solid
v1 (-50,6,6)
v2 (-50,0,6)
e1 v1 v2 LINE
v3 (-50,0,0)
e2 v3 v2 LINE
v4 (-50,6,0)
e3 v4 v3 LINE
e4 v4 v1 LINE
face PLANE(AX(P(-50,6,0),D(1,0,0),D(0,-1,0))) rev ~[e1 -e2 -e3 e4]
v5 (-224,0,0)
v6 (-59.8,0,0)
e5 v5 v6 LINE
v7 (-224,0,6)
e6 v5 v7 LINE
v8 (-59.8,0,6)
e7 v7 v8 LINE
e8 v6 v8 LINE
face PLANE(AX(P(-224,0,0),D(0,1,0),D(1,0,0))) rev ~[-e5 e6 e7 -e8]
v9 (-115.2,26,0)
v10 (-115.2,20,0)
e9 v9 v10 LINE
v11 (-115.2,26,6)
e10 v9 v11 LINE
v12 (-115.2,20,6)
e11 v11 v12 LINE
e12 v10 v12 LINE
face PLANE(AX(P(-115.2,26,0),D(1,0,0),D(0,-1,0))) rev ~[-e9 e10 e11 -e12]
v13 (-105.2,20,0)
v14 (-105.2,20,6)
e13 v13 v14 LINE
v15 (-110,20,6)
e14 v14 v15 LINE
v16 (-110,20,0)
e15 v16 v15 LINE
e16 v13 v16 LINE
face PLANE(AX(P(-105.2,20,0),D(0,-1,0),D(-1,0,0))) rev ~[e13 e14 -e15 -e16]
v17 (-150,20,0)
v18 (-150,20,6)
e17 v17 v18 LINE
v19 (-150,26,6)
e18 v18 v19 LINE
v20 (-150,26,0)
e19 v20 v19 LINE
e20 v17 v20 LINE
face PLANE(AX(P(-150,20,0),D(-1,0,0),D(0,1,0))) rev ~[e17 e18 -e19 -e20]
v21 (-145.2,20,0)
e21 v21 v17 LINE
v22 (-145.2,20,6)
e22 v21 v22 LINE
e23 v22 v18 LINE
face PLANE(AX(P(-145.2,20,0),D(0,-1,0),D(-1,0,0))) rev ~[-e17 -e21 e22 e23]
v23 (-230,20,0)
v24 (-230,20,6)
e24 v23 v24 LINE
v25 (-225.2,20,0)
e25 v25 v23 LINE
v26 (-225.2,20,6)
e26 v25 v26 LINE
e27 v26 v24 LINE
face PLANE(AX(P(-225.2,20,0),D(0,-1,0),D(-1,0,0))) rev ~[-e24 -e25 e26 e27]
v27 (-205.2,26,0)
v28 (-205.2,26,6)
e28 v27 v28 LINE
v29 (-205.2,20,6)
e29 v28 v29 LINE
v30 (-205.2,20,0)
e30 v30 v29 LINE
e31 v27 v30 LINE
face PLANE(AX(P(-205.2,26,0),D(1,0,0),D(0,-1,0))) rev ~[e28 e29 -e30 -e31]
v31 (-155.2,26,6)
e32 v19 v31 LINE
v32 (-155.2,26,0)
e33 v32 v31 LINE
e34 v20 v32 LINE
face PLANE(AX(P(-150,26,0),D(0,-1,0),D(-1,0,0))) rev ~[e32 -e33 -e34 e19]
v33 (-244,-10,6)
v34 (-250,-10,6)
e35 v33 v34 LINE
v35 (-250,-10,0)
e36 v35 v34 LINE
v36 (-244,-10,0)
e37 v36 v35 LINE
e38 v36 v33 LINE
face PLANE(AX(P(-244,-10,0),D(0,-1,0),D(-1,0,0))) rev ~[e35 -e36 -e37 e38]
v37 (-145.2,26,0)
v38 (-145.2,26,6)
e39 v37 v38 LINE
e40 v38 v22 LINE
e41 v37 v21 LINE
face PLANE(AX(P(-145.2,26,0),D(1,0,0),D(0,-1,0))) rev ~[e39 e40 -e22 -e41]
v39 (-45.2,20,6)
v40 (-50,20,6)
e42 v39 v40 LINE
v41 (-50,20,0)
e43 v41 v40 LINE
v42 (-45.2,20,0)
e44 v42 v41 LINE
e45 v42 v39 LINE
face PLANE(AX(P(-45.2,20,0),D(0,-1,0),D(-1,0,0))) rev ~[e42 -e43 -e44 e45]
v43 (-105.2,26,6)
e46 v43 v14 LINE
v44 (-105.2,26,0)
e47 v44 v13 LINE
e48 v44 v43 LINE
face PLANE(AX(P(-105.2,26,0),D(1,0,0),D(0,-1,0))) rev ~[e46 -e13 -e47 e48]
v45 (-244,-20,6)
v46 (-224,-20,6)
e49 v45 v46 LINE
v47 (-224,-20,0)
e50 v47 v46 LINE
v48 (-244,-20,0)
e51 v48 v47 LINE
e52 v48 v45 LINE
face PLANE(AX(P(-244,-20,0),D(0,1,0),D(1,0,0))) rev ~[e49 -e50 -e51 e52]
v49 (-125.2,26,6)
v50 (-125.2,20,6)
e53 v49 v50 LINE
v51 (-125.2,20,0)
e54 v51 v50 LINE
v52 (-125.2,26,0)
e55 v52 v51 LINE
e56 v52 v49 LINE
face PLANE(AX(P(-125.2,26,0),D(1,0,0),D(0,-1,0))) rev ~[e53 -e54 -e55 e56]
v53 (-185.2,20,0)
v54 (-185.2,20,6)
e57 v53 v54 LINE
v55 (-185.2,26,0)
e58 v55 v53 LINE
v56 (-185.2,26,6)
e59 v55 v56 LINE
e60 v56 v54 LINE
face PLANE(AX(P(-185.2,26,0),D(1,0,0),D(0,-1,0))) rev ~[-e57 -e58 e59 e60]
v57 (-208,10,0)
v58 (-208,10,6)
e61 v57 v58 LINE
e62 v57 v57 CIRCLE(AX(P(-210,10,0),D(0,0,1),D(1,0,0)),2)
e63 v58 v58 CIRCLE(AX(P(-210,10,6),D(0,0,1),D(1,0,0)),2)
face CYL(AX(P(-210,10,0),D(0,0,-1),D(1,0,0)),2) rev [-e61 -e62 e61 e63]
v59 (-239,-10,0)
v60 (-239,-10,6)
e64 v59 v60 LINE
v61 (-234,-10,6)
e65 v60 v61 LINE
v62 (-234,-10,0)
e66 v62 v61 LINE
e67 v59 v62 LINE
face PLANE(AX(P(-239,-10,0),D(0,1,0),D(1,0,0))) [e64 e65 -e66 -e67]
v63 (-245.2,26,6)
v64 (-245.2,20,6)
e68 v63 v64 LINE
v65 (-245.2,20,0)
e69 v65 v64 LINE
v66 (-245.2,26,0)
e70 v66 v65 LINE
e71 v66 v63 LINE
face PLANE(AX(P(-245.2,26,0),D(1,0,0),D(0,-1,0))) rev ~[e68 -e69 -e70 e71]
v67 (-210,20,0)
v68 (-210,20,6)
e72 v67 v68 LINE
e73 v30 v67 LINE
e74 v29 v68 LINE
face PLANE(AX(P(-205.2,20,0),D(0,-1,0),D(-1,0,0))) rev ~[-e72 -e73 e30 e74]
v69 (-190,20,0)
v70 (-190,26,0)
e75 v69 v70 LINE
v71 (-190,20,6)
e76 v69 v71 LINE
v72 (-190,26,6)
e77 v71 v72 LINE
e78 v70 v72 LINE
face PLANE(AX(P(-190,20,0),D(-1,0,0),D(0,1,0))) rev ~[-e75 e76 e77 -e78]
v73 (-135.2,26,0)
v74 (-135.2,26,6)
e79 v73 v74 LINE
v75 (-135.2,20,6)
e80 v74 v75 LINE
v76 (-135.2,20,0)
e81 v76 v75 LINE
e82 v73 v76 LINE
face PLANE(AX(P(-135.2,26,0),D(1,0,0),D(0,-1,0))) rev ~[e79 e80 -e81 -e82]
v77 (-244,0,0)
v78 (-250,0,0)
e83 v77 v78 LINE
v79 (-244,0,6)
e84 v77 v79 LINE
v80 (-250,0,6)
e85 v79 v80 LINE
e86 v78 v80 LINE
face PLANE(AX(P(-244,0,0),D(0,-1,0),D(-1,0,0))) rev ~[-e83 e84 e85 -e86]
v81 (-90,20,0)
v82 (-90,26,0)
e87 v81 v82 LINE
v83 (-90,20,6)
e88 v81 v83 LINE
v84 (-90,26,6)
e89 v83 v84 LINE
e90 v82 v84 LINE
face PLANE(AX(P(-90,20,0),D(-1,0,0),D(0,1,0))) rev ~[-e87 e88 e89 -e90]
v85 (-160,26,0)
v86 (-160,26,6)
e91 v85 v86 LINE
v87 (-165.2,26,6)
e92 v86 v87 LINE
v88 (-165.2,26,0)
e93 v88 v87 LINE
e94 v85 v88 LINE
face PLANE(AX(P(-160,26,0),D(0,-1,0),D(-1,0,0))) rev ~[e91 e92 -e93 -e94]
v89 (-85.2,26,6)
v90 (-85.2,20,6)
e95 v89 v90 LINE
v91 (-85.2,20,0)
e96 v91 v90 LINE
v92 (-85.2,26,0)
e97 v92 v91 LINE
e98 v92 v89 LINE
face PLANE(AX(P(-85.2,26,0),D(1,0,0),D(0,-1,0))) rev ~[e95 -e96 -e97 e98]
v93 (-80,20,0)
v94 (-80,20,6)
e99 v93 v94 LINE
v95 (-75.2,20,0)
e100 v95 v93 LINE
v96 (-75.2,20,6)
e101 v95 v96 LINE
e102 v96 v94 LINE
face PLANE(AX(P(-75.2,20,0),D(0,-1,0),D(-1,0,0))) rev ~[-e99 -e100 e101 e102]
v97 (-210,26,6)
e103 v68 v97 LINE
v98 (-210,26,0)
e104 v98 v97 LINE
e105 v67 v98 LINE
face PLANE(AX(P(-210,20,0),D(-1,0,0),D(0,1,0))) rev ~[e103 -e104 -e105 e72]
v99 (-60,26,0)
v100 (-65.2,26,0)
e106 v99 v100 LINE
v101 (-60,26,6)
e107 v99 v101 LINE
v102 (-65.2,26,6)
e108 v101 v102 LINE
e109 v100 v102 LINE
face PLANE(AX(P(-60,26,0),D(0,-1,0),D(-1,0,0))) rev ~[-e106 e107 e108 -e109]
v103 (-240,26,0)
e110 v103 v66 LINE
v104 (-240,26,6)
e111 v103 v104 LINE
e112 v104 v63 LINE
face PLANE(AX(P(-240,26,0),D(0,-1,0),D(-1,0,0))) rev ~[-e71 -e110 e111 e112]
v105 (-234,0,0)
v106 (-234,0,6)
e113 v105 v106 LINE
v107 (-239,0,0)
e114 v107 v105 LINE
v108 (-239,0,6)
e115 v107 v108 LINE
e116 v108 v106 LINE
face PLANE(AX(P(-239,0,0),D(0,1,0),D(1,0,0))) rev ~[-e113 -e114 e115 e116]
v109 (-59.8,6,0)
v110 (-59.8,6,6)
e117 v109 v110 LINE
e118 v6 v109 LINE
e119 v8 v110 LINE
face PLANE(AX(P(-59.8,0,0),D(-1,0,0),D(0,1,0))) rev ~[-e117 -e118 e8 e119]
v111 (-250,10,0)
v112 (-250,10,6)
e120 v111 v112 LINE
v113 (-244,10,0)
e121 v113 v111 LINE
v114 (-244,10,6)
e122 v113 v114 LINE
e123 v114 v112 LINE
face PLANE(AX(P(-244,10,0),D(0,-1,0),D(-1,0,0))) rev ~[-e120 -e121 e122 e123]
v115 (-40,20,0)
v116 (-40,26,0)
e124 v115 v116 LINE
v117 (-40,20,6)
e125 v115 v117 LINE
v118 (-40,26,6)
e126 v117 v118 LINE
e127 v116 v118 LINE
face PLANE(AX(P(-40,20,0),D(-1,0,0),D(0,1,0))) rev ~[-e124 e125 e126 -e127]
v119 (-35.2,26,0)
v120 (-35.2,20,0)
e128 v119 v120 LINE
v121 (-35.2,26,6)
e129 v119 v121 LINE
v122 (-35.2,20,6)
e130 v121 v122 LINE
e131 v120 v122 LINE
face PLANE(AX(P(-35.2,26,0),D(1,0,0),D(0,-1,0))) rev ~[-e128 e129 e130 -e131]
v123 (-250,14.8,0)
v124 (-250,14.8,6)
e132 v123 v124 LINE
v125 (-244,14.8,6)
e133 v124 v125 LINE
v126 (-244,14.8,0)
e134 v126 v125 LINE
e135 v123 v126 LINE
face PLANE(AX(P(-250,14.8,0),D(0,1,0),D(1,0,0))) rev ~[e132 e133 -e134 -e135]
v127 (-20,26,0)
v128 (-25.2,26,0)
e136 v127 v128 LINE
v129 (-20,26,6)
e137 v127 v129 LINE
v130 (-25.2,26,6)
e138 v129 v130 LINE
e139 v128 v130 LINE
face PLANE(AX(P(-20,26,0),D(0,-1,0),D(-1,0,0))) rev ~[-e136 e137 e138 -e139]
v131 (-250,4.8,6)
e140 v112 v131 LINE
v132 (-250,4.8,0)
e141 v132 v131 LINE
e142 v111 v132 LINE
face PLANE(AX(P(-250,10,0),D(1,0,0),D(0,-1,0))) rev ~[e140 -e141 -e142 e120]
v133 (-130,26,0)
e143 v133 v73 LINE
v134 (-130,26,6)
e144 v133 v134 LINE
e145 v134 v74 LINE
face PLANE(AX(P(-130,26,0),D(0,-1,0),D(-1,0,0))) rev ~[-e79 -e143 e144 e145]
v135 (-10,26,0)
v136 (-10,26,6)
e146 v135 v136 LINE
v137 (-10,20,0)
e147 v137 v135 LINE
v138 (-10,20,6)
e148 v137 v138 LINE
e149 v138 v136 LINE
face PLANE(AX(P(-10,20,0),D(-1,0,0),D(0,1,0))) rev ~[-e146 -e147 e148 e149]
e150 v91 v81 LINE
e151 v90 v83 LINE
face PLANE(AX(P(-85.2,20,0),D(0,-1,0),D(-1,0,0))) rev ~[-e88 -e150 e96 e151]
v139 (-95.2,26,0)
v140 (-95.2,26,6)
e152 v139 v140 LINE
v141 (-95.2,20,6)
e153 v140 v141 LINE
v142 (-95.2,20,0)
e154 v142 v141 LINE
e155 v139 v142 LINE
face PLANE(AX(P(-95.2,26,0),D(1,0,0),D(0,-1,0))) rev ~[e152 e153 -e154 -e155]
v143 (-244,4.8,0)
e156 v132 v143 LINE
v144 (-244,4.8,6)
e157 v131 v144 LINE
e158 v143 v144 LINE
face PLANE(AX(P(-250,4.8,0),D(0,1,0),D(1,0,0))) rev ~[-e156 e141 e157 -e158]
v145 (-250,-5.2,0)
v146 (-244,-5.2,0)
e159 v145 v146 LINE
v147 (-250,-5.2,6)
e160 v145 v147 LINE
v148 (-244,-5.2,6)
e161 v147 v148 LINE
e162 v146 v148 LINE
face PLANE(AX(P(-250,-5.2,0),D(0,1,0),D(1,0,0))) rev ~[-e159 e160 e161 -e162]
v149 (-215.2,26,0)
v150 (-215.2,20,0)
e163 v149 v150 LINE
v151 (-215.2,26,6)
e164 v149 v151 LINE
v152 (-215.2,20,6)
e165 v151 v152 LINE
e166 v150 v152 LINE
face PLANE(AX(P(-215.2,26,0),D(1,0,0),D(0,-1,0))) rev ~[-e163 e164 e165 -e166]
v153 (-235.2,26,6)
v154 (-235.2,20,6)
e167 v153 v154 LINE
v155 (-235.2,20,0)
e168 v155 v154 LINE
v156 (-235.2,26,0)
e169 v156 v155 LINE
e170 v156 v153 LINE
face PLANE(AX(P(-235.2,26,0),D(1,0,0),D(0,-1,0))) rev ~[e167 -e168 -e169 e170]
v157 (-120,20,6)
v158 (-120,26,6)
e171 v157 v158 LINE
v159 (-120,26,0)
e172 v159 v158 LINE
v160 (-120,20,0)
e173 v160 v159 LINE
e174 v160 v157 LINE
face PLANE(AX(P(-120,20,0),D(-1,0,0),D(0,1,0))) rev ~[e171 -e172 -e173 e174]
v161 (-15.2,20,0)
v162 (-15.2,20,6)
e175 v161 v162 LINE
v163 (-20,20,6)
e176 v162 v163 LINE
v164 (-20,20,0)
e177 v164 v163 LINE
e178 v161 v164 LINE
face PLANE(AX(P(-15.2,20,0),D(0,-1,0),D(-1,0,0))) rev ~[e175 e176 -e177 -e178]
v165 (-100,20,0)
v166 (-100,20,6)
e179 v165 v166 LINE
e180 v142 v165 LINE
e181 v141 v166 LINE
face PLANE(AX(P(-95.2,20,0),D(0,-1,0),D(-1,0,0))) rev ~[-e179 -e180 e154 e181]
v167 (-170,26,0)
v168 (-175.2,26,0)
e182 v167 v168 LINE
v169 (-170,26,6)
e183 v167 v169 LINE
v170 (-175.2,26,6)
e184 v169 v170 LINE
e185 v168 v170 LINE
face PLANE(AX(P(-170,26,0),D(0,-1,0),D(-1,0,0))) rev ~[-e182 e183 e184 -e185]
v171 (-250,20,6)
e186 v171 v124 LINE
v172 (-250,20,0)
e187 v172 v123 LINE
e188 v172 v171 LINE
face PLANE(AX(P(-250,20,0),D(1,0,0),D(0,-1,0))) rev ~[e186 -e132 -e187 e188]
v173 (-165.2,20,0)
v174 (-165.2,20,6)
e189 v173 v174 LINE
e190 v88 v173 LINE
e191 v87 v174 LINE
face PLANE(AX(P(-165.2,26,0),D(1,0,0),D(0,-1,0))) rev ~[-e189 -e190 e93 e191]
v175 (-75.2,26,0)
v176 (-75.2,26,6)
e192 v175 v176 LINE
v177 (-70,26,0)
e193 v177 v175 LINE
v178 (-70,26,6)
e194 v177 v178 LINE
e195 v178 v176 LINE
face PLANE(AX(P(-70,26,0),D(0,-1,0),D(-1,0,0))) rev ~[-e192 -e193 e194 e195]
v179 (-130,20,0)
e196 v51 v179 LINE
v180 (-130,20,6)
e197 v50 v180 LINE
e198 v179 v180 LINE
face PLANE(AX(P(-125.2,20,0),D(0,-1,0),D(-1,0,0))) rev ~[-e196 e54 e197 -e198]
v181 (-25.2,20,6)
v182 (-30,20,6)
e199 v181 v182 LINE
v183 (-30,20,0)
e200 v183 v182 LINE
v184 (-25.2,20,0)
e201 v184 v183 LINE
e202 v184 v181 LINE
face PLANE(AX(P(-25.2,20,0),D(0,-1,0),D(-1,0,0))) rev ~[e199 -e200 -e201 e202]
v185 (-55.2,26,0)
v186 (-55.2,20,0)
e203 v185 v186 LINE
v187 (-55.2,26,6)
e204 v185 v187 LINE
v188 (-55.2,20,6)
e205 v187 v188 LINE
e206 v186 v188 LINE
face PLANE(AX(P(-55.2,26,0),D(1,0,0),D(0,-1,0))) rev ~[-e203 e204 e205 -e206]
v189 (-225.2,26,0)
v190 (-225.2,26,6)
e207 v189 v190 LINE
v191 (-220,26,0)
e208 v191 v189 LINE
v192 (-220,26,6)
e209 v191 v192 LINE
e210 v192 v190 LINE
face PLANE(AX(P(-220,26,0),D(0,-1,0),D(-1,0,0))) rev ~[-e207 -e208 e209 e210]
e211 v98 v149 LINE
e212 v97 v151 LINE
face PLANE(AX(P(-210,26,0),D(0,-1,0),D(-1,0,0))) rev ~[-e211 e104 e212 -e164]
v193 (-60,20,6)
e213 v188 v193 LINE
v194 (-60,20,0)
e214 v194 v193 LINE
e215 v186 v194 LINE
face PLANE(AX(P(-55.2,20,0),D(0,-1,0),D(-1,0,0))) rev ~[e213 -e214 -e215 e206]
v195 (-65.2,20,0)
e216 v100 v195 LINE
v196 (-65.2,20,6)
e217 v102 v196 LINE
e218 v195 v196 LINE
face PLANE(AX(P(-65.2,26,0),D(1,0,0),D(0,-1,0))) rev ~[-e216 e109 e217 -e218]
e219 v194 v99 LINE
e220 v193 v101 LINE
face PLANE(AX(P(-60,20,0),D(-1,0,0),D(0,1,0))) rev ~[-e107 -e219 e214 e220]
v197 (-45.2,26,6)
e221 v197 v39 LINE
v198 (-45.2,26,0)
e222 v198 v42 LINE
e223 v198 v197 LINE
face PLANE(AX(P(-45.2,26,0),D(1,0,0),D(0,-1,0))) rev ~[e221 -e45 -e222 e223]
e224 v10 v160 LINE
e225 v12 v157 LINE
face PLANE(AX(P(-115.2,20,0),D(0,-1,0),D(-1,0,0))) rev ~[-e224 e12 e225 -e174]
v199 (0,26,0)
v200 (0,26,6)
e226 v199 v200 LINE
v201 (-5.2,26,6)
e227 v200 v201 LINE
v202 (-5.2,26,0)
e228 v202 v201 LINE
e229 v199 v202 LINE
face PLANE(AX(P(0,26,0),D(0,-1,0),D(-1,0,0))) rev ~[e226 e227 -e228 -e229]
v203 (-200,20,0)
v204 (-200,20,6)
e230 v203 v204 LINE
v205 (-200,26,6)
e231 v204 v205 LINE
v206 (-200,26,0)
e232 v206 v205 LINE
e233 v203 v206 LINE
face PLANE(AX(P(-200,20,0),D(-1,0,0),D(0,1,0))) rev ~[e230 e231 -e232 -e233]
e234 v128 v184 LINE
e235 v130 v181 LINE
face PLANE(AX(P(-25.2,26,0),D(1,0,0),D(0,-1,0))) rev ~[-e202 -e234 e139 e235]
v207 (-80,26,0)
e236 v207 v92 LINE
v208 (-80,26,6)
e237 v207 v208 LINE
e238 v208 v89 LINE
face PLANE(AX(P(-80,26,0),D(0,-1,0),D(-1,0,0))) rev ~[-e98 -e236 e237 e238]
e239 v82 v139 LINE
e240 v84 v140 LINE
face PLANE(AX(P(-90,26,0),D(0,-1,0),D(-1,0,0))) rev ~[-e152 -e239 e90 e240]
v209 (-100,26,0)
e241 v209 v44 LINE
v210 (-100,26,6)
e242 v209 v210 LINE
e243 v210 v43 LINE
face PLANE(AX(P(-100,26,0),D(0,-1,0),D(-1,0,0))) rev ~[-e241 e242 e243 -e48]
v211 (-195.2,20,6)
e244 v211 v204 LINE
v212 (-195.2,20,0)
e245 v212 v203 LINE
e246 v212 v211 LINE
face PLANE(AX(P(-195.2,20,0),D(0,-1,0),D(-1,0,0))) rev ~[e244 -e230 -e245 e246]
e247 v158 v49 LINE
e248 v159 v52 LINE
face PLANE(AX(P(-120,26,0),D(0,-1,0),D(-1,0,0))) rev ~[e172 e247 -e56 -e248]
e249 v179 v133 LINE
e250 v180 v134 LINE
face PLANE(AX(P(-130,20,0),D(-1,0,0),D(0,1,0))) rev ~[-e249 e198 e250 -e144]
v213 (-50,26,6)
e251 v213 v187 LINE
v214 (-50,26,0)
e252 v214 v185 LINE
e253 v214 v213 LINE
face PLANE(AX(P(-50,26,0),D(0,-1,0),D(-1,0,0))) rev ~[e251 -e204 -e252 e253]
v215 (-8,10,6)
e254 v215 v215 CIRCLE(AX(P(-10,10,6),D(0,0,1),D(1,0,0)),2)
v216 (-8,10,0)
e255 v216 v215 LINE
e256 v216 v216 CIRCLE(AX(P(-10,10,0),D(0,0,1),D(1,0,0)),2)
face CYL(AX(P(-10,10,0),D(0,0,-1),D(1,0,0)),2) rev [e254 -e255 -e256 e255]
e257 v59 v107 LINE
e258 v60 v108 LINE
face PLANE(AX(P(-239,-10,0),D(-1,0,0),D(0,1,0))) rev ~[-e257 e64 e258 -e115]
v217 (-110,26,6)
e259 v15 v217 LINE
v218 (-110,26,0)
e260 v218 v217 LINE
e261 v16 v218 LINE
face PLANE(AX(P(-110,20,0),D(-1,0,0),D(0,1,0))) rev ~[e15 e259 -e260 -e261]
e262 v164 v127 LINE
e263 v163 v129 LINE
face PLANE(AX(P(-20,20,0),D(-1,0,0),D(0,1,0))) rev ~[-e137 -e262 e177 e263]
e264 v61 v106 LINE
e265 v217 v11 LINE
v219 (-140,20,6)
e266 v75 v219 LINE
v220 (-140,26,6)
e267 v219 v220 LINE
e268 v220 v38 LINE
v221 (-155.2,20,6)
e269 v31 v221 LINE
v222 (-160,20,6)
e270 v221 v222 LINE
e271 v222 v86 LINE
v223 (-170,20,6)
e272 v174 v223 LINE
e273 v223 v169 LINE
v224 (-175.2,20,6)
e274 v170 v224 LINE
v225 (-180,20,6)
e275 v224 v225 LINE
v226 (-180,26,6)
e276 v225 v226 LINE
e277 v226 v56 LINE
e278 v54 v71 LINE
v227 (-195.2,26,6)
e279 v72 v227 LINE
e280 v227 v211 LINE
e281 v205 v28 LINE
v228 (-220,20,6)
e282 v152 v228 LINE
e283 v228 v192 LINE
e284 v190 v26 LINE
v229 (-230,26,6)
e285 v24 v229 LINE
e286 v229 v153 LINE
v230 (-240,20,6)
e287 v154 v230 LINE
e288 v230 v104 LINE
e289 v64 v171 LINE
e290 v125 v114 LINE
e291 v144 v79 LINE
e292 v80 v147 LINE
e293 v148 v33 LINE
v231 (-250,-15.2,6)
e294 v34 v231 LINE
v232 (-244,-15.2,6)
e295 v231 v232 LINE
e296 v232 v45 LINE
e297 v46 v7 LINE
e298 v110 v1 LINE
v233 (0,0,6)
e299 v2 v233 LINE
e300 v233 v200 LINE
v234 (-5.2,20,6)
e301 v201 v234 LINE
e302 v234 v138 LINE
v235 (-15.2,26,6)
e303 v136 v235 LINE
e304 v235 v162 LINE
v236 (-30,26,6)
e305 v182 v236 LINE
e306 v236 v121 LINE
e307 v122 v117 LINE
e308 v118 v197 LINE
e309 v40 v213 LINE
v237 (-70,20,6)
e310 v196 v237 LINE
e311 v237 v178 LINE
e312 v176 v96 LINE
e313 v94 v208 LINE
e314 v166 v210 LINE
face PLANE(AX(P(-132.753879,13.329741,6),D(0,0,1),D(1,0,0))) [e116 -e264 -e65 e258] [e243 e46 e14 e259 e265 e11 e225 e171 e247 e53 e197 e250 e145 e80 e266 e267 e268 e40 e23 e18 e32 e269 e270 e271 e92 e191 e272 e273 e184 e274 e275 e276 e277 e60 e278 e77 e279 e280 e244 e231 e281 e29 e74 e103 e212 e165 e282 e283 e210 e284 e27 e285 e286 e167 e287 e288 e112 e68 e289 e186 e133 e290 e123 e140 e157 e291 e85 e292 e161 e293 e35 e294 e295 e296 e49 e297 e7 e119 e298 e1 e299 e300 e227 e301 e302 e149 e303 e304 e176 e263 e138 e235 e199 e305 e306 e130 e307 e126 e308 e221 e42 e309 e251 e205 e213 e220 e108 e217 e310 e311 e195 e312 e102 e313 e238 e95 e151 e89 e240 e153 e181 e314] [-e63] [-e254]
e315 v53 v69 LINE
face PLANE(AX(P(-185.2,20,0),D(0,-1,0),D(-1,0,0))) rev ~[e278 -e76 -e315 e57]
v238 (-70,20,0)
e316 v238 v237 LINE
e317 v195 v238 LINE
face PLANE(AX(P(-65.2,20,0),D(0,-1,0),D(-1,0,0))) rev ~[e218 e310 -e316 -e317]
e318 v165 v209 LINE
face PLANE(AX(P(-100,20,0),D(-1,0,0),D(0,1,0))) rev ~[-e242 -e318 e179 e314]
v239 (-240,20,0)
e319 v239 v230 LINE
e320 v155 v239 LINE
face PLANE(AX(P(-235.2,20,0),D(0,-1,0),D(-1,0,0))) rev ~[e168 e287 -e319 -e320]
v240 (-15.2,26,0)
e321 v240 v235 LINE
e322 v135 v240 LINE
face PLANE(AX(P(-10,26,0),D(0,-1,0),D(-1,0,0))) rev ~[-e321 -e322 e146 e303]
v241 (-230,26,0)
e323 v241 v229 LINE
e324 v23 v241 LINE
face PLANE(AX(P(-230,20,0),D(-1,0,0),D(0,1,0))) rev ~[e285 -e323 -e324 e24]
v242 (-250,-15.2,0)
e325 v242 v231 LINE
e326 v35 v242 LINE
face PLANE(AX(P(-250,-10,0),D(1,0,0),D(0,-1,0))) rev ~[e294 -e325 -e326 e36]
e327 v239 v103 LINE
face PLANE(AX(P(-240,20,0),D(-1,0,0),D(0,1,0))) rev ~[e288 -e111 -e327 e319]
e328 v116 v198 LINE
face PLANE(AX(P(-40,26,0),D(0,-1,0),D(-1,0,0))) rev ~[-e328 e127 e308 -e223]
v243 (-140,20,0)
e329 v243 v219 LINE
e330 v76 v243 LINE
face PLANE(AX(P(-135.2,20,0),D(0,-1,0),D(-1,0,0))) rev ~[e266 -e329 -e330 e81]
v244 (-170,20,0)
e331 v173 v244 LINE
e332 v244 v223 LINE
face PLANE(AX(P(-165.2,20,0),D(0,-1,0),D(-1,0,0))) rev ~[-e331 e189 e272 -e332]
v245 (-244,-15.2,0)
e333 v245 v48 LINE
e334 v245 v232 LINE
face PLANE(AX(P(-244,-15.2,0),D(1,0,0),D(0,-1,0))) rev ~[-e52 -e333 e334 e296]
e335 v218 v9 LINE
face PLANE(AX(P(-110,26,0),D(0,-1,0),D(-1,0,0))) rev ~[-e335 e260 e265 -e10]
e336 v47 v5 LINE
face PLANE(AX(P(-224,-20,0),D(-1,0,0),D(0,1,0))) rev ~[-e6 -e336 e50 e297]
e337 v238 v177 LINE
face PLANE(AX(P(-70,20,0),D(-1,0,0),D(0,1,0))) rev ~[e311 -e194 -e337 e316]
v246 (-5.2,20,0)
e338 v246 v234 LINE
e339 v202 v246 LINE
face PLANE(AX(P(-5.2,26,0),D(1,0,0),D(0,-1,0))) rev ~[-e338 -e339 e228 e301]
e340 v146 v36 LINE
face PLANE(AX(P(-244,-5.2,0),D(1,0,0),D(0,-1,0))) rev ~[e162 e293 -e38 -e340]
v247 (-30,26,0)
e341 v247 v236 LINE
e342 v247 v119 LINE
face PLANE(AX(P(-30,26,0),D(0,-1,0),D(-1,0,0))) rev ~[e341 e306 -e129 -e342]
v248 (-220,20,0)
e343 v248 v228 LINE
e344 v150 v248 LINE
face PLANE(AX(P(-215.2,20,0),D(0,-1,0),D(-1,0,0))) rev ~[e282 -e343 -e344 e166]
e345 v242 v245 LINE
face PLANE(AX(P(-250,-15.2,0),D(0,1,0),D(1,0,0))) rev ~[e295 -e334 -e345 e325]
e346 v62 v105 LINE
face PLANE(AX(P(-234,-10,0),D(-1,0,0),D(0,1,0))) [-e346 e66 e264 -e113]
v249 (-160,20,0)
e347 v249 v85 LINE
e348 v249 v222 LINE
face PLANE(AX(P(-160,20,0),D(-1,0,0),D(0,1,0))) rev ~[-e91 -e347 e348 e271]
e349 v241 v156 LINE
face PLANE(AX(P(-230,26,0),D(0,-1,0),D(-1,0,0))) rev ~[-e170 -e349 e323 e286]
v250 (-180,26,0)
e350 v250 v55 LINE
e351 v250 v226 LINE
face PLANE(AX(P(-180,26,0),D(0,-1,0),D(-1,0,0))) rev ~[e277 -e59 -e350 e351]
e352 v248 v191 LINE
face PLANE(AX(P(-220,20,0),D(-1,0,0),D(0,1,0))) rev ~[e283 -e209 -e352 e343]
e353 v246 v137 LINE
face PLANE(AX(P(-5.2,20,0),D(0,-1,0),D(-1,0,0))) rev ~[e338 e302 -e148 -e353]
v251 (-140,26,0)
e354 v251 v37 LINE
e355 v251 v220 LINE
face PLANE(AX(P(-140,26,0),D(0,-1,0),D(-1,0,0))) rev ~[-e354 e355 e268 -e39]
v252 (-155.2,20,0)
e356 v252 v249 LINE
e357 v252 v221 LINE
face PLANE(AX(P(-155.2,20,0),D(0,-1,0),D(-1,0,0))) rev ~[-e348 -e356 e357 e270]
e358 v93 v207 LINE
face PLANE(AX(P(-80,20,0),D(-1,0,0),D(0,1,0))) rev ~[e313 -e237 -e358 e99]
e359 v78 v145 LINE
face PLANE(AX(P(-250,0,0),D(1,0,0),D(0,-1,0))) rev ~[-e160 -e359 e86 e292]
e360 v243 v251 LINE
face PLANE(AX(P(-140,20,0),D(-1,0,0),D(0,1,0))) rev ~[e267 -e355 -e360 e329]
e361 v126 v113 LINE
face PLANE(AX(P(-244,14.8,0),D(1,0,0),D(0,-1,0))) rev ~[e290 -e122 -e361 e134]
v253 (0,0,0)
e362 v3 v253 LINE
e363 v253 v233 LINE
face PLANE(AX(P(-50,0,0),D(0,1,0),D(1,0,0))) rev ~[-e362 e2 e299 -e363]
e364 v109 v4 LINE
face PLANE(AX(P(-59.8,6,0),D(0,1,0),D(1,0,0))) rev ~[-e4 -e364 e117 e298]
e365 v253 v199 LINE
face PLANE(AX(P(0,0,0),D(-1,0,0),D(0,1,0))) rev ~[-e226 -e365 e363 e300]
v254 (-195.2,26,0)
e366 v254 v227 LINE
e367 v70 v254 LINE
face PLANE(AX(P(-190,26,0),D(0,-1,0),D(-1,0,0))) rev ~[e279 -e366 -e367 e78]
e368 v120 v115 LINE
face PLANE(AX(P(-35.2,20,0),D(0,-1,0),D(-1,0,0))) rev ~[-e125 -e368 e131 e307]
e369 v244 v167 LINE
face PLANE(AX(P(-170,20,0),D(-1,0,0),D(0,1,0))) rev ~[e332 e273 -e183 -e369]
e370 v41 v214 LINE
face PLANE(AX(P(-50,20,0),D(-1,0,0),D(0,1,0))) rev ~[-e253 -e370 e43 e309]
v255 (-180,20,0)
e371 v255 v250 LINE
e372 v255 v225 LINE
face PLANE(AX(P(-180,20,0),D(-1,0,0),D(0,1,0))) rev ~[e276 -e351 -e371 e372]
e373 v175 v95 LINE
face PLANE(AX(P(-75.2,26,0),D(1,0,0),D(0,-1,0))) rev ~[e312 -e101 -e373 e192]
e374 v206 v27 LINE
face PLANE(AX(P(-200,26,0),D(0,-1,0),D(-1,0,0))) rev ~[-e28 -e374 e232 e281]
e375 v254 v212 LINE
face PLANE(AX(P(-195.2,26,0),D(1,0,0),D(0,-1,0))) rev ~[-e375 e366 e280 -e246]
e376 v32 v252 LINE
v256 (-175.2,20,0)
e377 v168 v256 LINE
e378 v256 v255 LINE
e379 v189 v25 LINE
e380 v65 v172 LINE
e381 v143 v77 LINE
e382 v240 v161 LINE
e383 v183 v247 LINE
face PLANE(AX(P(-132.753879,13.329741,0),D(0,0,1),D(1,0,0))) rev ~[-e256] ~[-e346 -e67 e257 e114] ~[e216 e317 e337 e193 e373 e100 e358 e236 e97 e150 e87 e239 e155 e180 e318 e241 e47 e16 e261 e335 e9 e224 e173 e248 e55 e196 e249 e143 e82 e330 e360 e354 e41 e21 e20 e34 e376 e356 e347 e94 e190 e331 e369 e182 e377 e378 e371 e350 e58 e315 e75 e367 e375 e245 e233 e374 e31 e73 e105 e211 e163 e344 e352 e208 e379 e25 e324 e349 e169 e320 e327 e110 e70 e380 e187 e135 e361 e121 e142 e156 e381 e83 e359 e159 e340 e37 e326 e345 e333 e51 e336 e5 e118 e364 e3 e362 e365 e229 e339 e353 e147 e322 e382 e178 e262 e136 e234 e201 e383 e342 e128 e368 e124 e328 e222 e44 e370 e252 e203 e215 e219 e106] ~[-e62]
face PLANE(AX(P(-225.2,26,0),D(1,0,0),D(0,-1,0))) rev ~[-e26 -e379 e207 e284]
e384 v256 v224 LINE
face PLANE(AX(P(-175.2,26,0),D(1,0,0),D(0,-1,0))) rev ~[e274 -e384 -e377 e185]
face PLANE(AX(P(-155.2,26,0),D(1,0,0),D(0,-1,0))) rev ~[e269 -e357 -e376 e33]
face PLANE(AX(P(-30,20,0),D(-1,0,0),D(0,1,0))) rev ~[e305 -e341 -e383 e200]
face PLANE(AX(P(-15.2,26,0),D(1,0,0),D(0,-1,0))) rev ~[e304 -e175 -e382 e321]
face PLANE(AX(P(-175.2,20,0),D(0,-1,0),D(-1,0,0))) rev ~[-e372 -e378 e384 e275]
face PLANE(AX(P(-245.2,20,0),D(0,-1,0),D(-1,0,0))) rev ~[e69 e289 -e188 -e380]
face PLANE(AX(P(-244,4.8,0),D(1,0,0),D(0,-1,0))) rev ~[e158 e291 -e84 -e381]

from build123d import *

# Parameters (mm, degrees)
ESQUISSE1_R        = 2
ESQUISSE1_W        = 5
ESQUISSE1_H        = 10
BOSS_EXTRU_1_DEPTH = 6


with BuildPart() as part:
    # Esquisse1 → Boss.-Extru.1 (new body)
    with BuildSketch(Plane.XY):
        Polygon((0, 0), (0, 26), (-5.2, 26), (-5.2, 20), (-10, 20), (-10, 26), (-15.2, 26), (-15.2, 20), (-20, 20), (-20, 26), (-25.2, 26), (-25.2, 20), (-30, 20), (-30, 26), (-35.2, 26), (-35.2, 20), (-40, 20), (-40, 26), (-45.2, 26), (-45.2, 20), (-50, 20), (-50, 26), (-55.2, 26), (-55.2, 20), (-60, 20), (-60, 26), (-65.2, 26), (-65.2, 20), (-70, 20), (-70, 26), (-75.2, 26), (-75.2, 20), (-80, 20), (-80, 26), (-85.2, 26), (-85.2, 20), (-90, 20), (-90, 26), (-95.2, 26), (-95.2, 20), (-100, 20), (-100, 26), (-105.2, 26), (-105.2, 20), (-110, 20), (-110, 26), (-115.2, 26), (-115.2, 20), (-120, 20), (-120, 26), (-125.2, 26), (-125.2, 20), (-130, 20), (-130, 26), (-135.2, 26), (-135.2, 20), (-140, 20), (-140, 26), (-145.2, 26), (-145.2, 20), (-150, 20), (-150, 26), (-155.2, 26), (-155.2, 20), (-160, 20), (-160, 26), (-165.2, 26), (-165.2, 20), (-170, 20), (-170, 26), (-175.2, 26), (-175.2, 20), (-180, 20), (-180, 26), (-185.2, 26), (-185.2, 20), (-190, 20), (-190, 26), (-195.2, 26), (-195.2, 20), (-200, 20), (-200, 26), (-205.2, 26), (-205.2, 20), (-210, 20), (-210, 26), (-215.2, 26), (-215.2, 20), (-220, 20), (-220, 26), (-225.2, 26), (-225.2, 20), (-230, 20), (-230, 26), (-235.2, 26), (-235.2, 20), (-240, 20), (-240, 26), (-245.2, 26), (-245.2, 20), (-250, 20), (-250, 14.8), (-244, 14.8), (-244, 10), (-250, 10), (-250, 4.8), (-244, 4.8), (-244, 0), (-250, 0), (-250, -5.2), (-244, -5.2), (-244, -10), (-250, -10), (-250, -15.2), (-244, -15.2), (-244, -20), (-224, -20), (-224, 0), (-59.8, 0), (-59.8, 6), (-50, 6), (-50, 0), align=None)
        with Locations((-210, 10)):
            Circle(ESQUISSE1_R, mode=Mode.SUBTRACT)
        with Locations((-10, 10)):
            Circle(ESQUISSE1_R, mode=Mode.SUBTRACT)
        with Locations((-236.5, -5)):
            Rectangle(ESQUISSE1_W, ESQUISSE1_H, mode=Mode.SUBTRACT)
    extrude(amount=BOSS_EXTRU_1_DEPTH)


solid = part.part
